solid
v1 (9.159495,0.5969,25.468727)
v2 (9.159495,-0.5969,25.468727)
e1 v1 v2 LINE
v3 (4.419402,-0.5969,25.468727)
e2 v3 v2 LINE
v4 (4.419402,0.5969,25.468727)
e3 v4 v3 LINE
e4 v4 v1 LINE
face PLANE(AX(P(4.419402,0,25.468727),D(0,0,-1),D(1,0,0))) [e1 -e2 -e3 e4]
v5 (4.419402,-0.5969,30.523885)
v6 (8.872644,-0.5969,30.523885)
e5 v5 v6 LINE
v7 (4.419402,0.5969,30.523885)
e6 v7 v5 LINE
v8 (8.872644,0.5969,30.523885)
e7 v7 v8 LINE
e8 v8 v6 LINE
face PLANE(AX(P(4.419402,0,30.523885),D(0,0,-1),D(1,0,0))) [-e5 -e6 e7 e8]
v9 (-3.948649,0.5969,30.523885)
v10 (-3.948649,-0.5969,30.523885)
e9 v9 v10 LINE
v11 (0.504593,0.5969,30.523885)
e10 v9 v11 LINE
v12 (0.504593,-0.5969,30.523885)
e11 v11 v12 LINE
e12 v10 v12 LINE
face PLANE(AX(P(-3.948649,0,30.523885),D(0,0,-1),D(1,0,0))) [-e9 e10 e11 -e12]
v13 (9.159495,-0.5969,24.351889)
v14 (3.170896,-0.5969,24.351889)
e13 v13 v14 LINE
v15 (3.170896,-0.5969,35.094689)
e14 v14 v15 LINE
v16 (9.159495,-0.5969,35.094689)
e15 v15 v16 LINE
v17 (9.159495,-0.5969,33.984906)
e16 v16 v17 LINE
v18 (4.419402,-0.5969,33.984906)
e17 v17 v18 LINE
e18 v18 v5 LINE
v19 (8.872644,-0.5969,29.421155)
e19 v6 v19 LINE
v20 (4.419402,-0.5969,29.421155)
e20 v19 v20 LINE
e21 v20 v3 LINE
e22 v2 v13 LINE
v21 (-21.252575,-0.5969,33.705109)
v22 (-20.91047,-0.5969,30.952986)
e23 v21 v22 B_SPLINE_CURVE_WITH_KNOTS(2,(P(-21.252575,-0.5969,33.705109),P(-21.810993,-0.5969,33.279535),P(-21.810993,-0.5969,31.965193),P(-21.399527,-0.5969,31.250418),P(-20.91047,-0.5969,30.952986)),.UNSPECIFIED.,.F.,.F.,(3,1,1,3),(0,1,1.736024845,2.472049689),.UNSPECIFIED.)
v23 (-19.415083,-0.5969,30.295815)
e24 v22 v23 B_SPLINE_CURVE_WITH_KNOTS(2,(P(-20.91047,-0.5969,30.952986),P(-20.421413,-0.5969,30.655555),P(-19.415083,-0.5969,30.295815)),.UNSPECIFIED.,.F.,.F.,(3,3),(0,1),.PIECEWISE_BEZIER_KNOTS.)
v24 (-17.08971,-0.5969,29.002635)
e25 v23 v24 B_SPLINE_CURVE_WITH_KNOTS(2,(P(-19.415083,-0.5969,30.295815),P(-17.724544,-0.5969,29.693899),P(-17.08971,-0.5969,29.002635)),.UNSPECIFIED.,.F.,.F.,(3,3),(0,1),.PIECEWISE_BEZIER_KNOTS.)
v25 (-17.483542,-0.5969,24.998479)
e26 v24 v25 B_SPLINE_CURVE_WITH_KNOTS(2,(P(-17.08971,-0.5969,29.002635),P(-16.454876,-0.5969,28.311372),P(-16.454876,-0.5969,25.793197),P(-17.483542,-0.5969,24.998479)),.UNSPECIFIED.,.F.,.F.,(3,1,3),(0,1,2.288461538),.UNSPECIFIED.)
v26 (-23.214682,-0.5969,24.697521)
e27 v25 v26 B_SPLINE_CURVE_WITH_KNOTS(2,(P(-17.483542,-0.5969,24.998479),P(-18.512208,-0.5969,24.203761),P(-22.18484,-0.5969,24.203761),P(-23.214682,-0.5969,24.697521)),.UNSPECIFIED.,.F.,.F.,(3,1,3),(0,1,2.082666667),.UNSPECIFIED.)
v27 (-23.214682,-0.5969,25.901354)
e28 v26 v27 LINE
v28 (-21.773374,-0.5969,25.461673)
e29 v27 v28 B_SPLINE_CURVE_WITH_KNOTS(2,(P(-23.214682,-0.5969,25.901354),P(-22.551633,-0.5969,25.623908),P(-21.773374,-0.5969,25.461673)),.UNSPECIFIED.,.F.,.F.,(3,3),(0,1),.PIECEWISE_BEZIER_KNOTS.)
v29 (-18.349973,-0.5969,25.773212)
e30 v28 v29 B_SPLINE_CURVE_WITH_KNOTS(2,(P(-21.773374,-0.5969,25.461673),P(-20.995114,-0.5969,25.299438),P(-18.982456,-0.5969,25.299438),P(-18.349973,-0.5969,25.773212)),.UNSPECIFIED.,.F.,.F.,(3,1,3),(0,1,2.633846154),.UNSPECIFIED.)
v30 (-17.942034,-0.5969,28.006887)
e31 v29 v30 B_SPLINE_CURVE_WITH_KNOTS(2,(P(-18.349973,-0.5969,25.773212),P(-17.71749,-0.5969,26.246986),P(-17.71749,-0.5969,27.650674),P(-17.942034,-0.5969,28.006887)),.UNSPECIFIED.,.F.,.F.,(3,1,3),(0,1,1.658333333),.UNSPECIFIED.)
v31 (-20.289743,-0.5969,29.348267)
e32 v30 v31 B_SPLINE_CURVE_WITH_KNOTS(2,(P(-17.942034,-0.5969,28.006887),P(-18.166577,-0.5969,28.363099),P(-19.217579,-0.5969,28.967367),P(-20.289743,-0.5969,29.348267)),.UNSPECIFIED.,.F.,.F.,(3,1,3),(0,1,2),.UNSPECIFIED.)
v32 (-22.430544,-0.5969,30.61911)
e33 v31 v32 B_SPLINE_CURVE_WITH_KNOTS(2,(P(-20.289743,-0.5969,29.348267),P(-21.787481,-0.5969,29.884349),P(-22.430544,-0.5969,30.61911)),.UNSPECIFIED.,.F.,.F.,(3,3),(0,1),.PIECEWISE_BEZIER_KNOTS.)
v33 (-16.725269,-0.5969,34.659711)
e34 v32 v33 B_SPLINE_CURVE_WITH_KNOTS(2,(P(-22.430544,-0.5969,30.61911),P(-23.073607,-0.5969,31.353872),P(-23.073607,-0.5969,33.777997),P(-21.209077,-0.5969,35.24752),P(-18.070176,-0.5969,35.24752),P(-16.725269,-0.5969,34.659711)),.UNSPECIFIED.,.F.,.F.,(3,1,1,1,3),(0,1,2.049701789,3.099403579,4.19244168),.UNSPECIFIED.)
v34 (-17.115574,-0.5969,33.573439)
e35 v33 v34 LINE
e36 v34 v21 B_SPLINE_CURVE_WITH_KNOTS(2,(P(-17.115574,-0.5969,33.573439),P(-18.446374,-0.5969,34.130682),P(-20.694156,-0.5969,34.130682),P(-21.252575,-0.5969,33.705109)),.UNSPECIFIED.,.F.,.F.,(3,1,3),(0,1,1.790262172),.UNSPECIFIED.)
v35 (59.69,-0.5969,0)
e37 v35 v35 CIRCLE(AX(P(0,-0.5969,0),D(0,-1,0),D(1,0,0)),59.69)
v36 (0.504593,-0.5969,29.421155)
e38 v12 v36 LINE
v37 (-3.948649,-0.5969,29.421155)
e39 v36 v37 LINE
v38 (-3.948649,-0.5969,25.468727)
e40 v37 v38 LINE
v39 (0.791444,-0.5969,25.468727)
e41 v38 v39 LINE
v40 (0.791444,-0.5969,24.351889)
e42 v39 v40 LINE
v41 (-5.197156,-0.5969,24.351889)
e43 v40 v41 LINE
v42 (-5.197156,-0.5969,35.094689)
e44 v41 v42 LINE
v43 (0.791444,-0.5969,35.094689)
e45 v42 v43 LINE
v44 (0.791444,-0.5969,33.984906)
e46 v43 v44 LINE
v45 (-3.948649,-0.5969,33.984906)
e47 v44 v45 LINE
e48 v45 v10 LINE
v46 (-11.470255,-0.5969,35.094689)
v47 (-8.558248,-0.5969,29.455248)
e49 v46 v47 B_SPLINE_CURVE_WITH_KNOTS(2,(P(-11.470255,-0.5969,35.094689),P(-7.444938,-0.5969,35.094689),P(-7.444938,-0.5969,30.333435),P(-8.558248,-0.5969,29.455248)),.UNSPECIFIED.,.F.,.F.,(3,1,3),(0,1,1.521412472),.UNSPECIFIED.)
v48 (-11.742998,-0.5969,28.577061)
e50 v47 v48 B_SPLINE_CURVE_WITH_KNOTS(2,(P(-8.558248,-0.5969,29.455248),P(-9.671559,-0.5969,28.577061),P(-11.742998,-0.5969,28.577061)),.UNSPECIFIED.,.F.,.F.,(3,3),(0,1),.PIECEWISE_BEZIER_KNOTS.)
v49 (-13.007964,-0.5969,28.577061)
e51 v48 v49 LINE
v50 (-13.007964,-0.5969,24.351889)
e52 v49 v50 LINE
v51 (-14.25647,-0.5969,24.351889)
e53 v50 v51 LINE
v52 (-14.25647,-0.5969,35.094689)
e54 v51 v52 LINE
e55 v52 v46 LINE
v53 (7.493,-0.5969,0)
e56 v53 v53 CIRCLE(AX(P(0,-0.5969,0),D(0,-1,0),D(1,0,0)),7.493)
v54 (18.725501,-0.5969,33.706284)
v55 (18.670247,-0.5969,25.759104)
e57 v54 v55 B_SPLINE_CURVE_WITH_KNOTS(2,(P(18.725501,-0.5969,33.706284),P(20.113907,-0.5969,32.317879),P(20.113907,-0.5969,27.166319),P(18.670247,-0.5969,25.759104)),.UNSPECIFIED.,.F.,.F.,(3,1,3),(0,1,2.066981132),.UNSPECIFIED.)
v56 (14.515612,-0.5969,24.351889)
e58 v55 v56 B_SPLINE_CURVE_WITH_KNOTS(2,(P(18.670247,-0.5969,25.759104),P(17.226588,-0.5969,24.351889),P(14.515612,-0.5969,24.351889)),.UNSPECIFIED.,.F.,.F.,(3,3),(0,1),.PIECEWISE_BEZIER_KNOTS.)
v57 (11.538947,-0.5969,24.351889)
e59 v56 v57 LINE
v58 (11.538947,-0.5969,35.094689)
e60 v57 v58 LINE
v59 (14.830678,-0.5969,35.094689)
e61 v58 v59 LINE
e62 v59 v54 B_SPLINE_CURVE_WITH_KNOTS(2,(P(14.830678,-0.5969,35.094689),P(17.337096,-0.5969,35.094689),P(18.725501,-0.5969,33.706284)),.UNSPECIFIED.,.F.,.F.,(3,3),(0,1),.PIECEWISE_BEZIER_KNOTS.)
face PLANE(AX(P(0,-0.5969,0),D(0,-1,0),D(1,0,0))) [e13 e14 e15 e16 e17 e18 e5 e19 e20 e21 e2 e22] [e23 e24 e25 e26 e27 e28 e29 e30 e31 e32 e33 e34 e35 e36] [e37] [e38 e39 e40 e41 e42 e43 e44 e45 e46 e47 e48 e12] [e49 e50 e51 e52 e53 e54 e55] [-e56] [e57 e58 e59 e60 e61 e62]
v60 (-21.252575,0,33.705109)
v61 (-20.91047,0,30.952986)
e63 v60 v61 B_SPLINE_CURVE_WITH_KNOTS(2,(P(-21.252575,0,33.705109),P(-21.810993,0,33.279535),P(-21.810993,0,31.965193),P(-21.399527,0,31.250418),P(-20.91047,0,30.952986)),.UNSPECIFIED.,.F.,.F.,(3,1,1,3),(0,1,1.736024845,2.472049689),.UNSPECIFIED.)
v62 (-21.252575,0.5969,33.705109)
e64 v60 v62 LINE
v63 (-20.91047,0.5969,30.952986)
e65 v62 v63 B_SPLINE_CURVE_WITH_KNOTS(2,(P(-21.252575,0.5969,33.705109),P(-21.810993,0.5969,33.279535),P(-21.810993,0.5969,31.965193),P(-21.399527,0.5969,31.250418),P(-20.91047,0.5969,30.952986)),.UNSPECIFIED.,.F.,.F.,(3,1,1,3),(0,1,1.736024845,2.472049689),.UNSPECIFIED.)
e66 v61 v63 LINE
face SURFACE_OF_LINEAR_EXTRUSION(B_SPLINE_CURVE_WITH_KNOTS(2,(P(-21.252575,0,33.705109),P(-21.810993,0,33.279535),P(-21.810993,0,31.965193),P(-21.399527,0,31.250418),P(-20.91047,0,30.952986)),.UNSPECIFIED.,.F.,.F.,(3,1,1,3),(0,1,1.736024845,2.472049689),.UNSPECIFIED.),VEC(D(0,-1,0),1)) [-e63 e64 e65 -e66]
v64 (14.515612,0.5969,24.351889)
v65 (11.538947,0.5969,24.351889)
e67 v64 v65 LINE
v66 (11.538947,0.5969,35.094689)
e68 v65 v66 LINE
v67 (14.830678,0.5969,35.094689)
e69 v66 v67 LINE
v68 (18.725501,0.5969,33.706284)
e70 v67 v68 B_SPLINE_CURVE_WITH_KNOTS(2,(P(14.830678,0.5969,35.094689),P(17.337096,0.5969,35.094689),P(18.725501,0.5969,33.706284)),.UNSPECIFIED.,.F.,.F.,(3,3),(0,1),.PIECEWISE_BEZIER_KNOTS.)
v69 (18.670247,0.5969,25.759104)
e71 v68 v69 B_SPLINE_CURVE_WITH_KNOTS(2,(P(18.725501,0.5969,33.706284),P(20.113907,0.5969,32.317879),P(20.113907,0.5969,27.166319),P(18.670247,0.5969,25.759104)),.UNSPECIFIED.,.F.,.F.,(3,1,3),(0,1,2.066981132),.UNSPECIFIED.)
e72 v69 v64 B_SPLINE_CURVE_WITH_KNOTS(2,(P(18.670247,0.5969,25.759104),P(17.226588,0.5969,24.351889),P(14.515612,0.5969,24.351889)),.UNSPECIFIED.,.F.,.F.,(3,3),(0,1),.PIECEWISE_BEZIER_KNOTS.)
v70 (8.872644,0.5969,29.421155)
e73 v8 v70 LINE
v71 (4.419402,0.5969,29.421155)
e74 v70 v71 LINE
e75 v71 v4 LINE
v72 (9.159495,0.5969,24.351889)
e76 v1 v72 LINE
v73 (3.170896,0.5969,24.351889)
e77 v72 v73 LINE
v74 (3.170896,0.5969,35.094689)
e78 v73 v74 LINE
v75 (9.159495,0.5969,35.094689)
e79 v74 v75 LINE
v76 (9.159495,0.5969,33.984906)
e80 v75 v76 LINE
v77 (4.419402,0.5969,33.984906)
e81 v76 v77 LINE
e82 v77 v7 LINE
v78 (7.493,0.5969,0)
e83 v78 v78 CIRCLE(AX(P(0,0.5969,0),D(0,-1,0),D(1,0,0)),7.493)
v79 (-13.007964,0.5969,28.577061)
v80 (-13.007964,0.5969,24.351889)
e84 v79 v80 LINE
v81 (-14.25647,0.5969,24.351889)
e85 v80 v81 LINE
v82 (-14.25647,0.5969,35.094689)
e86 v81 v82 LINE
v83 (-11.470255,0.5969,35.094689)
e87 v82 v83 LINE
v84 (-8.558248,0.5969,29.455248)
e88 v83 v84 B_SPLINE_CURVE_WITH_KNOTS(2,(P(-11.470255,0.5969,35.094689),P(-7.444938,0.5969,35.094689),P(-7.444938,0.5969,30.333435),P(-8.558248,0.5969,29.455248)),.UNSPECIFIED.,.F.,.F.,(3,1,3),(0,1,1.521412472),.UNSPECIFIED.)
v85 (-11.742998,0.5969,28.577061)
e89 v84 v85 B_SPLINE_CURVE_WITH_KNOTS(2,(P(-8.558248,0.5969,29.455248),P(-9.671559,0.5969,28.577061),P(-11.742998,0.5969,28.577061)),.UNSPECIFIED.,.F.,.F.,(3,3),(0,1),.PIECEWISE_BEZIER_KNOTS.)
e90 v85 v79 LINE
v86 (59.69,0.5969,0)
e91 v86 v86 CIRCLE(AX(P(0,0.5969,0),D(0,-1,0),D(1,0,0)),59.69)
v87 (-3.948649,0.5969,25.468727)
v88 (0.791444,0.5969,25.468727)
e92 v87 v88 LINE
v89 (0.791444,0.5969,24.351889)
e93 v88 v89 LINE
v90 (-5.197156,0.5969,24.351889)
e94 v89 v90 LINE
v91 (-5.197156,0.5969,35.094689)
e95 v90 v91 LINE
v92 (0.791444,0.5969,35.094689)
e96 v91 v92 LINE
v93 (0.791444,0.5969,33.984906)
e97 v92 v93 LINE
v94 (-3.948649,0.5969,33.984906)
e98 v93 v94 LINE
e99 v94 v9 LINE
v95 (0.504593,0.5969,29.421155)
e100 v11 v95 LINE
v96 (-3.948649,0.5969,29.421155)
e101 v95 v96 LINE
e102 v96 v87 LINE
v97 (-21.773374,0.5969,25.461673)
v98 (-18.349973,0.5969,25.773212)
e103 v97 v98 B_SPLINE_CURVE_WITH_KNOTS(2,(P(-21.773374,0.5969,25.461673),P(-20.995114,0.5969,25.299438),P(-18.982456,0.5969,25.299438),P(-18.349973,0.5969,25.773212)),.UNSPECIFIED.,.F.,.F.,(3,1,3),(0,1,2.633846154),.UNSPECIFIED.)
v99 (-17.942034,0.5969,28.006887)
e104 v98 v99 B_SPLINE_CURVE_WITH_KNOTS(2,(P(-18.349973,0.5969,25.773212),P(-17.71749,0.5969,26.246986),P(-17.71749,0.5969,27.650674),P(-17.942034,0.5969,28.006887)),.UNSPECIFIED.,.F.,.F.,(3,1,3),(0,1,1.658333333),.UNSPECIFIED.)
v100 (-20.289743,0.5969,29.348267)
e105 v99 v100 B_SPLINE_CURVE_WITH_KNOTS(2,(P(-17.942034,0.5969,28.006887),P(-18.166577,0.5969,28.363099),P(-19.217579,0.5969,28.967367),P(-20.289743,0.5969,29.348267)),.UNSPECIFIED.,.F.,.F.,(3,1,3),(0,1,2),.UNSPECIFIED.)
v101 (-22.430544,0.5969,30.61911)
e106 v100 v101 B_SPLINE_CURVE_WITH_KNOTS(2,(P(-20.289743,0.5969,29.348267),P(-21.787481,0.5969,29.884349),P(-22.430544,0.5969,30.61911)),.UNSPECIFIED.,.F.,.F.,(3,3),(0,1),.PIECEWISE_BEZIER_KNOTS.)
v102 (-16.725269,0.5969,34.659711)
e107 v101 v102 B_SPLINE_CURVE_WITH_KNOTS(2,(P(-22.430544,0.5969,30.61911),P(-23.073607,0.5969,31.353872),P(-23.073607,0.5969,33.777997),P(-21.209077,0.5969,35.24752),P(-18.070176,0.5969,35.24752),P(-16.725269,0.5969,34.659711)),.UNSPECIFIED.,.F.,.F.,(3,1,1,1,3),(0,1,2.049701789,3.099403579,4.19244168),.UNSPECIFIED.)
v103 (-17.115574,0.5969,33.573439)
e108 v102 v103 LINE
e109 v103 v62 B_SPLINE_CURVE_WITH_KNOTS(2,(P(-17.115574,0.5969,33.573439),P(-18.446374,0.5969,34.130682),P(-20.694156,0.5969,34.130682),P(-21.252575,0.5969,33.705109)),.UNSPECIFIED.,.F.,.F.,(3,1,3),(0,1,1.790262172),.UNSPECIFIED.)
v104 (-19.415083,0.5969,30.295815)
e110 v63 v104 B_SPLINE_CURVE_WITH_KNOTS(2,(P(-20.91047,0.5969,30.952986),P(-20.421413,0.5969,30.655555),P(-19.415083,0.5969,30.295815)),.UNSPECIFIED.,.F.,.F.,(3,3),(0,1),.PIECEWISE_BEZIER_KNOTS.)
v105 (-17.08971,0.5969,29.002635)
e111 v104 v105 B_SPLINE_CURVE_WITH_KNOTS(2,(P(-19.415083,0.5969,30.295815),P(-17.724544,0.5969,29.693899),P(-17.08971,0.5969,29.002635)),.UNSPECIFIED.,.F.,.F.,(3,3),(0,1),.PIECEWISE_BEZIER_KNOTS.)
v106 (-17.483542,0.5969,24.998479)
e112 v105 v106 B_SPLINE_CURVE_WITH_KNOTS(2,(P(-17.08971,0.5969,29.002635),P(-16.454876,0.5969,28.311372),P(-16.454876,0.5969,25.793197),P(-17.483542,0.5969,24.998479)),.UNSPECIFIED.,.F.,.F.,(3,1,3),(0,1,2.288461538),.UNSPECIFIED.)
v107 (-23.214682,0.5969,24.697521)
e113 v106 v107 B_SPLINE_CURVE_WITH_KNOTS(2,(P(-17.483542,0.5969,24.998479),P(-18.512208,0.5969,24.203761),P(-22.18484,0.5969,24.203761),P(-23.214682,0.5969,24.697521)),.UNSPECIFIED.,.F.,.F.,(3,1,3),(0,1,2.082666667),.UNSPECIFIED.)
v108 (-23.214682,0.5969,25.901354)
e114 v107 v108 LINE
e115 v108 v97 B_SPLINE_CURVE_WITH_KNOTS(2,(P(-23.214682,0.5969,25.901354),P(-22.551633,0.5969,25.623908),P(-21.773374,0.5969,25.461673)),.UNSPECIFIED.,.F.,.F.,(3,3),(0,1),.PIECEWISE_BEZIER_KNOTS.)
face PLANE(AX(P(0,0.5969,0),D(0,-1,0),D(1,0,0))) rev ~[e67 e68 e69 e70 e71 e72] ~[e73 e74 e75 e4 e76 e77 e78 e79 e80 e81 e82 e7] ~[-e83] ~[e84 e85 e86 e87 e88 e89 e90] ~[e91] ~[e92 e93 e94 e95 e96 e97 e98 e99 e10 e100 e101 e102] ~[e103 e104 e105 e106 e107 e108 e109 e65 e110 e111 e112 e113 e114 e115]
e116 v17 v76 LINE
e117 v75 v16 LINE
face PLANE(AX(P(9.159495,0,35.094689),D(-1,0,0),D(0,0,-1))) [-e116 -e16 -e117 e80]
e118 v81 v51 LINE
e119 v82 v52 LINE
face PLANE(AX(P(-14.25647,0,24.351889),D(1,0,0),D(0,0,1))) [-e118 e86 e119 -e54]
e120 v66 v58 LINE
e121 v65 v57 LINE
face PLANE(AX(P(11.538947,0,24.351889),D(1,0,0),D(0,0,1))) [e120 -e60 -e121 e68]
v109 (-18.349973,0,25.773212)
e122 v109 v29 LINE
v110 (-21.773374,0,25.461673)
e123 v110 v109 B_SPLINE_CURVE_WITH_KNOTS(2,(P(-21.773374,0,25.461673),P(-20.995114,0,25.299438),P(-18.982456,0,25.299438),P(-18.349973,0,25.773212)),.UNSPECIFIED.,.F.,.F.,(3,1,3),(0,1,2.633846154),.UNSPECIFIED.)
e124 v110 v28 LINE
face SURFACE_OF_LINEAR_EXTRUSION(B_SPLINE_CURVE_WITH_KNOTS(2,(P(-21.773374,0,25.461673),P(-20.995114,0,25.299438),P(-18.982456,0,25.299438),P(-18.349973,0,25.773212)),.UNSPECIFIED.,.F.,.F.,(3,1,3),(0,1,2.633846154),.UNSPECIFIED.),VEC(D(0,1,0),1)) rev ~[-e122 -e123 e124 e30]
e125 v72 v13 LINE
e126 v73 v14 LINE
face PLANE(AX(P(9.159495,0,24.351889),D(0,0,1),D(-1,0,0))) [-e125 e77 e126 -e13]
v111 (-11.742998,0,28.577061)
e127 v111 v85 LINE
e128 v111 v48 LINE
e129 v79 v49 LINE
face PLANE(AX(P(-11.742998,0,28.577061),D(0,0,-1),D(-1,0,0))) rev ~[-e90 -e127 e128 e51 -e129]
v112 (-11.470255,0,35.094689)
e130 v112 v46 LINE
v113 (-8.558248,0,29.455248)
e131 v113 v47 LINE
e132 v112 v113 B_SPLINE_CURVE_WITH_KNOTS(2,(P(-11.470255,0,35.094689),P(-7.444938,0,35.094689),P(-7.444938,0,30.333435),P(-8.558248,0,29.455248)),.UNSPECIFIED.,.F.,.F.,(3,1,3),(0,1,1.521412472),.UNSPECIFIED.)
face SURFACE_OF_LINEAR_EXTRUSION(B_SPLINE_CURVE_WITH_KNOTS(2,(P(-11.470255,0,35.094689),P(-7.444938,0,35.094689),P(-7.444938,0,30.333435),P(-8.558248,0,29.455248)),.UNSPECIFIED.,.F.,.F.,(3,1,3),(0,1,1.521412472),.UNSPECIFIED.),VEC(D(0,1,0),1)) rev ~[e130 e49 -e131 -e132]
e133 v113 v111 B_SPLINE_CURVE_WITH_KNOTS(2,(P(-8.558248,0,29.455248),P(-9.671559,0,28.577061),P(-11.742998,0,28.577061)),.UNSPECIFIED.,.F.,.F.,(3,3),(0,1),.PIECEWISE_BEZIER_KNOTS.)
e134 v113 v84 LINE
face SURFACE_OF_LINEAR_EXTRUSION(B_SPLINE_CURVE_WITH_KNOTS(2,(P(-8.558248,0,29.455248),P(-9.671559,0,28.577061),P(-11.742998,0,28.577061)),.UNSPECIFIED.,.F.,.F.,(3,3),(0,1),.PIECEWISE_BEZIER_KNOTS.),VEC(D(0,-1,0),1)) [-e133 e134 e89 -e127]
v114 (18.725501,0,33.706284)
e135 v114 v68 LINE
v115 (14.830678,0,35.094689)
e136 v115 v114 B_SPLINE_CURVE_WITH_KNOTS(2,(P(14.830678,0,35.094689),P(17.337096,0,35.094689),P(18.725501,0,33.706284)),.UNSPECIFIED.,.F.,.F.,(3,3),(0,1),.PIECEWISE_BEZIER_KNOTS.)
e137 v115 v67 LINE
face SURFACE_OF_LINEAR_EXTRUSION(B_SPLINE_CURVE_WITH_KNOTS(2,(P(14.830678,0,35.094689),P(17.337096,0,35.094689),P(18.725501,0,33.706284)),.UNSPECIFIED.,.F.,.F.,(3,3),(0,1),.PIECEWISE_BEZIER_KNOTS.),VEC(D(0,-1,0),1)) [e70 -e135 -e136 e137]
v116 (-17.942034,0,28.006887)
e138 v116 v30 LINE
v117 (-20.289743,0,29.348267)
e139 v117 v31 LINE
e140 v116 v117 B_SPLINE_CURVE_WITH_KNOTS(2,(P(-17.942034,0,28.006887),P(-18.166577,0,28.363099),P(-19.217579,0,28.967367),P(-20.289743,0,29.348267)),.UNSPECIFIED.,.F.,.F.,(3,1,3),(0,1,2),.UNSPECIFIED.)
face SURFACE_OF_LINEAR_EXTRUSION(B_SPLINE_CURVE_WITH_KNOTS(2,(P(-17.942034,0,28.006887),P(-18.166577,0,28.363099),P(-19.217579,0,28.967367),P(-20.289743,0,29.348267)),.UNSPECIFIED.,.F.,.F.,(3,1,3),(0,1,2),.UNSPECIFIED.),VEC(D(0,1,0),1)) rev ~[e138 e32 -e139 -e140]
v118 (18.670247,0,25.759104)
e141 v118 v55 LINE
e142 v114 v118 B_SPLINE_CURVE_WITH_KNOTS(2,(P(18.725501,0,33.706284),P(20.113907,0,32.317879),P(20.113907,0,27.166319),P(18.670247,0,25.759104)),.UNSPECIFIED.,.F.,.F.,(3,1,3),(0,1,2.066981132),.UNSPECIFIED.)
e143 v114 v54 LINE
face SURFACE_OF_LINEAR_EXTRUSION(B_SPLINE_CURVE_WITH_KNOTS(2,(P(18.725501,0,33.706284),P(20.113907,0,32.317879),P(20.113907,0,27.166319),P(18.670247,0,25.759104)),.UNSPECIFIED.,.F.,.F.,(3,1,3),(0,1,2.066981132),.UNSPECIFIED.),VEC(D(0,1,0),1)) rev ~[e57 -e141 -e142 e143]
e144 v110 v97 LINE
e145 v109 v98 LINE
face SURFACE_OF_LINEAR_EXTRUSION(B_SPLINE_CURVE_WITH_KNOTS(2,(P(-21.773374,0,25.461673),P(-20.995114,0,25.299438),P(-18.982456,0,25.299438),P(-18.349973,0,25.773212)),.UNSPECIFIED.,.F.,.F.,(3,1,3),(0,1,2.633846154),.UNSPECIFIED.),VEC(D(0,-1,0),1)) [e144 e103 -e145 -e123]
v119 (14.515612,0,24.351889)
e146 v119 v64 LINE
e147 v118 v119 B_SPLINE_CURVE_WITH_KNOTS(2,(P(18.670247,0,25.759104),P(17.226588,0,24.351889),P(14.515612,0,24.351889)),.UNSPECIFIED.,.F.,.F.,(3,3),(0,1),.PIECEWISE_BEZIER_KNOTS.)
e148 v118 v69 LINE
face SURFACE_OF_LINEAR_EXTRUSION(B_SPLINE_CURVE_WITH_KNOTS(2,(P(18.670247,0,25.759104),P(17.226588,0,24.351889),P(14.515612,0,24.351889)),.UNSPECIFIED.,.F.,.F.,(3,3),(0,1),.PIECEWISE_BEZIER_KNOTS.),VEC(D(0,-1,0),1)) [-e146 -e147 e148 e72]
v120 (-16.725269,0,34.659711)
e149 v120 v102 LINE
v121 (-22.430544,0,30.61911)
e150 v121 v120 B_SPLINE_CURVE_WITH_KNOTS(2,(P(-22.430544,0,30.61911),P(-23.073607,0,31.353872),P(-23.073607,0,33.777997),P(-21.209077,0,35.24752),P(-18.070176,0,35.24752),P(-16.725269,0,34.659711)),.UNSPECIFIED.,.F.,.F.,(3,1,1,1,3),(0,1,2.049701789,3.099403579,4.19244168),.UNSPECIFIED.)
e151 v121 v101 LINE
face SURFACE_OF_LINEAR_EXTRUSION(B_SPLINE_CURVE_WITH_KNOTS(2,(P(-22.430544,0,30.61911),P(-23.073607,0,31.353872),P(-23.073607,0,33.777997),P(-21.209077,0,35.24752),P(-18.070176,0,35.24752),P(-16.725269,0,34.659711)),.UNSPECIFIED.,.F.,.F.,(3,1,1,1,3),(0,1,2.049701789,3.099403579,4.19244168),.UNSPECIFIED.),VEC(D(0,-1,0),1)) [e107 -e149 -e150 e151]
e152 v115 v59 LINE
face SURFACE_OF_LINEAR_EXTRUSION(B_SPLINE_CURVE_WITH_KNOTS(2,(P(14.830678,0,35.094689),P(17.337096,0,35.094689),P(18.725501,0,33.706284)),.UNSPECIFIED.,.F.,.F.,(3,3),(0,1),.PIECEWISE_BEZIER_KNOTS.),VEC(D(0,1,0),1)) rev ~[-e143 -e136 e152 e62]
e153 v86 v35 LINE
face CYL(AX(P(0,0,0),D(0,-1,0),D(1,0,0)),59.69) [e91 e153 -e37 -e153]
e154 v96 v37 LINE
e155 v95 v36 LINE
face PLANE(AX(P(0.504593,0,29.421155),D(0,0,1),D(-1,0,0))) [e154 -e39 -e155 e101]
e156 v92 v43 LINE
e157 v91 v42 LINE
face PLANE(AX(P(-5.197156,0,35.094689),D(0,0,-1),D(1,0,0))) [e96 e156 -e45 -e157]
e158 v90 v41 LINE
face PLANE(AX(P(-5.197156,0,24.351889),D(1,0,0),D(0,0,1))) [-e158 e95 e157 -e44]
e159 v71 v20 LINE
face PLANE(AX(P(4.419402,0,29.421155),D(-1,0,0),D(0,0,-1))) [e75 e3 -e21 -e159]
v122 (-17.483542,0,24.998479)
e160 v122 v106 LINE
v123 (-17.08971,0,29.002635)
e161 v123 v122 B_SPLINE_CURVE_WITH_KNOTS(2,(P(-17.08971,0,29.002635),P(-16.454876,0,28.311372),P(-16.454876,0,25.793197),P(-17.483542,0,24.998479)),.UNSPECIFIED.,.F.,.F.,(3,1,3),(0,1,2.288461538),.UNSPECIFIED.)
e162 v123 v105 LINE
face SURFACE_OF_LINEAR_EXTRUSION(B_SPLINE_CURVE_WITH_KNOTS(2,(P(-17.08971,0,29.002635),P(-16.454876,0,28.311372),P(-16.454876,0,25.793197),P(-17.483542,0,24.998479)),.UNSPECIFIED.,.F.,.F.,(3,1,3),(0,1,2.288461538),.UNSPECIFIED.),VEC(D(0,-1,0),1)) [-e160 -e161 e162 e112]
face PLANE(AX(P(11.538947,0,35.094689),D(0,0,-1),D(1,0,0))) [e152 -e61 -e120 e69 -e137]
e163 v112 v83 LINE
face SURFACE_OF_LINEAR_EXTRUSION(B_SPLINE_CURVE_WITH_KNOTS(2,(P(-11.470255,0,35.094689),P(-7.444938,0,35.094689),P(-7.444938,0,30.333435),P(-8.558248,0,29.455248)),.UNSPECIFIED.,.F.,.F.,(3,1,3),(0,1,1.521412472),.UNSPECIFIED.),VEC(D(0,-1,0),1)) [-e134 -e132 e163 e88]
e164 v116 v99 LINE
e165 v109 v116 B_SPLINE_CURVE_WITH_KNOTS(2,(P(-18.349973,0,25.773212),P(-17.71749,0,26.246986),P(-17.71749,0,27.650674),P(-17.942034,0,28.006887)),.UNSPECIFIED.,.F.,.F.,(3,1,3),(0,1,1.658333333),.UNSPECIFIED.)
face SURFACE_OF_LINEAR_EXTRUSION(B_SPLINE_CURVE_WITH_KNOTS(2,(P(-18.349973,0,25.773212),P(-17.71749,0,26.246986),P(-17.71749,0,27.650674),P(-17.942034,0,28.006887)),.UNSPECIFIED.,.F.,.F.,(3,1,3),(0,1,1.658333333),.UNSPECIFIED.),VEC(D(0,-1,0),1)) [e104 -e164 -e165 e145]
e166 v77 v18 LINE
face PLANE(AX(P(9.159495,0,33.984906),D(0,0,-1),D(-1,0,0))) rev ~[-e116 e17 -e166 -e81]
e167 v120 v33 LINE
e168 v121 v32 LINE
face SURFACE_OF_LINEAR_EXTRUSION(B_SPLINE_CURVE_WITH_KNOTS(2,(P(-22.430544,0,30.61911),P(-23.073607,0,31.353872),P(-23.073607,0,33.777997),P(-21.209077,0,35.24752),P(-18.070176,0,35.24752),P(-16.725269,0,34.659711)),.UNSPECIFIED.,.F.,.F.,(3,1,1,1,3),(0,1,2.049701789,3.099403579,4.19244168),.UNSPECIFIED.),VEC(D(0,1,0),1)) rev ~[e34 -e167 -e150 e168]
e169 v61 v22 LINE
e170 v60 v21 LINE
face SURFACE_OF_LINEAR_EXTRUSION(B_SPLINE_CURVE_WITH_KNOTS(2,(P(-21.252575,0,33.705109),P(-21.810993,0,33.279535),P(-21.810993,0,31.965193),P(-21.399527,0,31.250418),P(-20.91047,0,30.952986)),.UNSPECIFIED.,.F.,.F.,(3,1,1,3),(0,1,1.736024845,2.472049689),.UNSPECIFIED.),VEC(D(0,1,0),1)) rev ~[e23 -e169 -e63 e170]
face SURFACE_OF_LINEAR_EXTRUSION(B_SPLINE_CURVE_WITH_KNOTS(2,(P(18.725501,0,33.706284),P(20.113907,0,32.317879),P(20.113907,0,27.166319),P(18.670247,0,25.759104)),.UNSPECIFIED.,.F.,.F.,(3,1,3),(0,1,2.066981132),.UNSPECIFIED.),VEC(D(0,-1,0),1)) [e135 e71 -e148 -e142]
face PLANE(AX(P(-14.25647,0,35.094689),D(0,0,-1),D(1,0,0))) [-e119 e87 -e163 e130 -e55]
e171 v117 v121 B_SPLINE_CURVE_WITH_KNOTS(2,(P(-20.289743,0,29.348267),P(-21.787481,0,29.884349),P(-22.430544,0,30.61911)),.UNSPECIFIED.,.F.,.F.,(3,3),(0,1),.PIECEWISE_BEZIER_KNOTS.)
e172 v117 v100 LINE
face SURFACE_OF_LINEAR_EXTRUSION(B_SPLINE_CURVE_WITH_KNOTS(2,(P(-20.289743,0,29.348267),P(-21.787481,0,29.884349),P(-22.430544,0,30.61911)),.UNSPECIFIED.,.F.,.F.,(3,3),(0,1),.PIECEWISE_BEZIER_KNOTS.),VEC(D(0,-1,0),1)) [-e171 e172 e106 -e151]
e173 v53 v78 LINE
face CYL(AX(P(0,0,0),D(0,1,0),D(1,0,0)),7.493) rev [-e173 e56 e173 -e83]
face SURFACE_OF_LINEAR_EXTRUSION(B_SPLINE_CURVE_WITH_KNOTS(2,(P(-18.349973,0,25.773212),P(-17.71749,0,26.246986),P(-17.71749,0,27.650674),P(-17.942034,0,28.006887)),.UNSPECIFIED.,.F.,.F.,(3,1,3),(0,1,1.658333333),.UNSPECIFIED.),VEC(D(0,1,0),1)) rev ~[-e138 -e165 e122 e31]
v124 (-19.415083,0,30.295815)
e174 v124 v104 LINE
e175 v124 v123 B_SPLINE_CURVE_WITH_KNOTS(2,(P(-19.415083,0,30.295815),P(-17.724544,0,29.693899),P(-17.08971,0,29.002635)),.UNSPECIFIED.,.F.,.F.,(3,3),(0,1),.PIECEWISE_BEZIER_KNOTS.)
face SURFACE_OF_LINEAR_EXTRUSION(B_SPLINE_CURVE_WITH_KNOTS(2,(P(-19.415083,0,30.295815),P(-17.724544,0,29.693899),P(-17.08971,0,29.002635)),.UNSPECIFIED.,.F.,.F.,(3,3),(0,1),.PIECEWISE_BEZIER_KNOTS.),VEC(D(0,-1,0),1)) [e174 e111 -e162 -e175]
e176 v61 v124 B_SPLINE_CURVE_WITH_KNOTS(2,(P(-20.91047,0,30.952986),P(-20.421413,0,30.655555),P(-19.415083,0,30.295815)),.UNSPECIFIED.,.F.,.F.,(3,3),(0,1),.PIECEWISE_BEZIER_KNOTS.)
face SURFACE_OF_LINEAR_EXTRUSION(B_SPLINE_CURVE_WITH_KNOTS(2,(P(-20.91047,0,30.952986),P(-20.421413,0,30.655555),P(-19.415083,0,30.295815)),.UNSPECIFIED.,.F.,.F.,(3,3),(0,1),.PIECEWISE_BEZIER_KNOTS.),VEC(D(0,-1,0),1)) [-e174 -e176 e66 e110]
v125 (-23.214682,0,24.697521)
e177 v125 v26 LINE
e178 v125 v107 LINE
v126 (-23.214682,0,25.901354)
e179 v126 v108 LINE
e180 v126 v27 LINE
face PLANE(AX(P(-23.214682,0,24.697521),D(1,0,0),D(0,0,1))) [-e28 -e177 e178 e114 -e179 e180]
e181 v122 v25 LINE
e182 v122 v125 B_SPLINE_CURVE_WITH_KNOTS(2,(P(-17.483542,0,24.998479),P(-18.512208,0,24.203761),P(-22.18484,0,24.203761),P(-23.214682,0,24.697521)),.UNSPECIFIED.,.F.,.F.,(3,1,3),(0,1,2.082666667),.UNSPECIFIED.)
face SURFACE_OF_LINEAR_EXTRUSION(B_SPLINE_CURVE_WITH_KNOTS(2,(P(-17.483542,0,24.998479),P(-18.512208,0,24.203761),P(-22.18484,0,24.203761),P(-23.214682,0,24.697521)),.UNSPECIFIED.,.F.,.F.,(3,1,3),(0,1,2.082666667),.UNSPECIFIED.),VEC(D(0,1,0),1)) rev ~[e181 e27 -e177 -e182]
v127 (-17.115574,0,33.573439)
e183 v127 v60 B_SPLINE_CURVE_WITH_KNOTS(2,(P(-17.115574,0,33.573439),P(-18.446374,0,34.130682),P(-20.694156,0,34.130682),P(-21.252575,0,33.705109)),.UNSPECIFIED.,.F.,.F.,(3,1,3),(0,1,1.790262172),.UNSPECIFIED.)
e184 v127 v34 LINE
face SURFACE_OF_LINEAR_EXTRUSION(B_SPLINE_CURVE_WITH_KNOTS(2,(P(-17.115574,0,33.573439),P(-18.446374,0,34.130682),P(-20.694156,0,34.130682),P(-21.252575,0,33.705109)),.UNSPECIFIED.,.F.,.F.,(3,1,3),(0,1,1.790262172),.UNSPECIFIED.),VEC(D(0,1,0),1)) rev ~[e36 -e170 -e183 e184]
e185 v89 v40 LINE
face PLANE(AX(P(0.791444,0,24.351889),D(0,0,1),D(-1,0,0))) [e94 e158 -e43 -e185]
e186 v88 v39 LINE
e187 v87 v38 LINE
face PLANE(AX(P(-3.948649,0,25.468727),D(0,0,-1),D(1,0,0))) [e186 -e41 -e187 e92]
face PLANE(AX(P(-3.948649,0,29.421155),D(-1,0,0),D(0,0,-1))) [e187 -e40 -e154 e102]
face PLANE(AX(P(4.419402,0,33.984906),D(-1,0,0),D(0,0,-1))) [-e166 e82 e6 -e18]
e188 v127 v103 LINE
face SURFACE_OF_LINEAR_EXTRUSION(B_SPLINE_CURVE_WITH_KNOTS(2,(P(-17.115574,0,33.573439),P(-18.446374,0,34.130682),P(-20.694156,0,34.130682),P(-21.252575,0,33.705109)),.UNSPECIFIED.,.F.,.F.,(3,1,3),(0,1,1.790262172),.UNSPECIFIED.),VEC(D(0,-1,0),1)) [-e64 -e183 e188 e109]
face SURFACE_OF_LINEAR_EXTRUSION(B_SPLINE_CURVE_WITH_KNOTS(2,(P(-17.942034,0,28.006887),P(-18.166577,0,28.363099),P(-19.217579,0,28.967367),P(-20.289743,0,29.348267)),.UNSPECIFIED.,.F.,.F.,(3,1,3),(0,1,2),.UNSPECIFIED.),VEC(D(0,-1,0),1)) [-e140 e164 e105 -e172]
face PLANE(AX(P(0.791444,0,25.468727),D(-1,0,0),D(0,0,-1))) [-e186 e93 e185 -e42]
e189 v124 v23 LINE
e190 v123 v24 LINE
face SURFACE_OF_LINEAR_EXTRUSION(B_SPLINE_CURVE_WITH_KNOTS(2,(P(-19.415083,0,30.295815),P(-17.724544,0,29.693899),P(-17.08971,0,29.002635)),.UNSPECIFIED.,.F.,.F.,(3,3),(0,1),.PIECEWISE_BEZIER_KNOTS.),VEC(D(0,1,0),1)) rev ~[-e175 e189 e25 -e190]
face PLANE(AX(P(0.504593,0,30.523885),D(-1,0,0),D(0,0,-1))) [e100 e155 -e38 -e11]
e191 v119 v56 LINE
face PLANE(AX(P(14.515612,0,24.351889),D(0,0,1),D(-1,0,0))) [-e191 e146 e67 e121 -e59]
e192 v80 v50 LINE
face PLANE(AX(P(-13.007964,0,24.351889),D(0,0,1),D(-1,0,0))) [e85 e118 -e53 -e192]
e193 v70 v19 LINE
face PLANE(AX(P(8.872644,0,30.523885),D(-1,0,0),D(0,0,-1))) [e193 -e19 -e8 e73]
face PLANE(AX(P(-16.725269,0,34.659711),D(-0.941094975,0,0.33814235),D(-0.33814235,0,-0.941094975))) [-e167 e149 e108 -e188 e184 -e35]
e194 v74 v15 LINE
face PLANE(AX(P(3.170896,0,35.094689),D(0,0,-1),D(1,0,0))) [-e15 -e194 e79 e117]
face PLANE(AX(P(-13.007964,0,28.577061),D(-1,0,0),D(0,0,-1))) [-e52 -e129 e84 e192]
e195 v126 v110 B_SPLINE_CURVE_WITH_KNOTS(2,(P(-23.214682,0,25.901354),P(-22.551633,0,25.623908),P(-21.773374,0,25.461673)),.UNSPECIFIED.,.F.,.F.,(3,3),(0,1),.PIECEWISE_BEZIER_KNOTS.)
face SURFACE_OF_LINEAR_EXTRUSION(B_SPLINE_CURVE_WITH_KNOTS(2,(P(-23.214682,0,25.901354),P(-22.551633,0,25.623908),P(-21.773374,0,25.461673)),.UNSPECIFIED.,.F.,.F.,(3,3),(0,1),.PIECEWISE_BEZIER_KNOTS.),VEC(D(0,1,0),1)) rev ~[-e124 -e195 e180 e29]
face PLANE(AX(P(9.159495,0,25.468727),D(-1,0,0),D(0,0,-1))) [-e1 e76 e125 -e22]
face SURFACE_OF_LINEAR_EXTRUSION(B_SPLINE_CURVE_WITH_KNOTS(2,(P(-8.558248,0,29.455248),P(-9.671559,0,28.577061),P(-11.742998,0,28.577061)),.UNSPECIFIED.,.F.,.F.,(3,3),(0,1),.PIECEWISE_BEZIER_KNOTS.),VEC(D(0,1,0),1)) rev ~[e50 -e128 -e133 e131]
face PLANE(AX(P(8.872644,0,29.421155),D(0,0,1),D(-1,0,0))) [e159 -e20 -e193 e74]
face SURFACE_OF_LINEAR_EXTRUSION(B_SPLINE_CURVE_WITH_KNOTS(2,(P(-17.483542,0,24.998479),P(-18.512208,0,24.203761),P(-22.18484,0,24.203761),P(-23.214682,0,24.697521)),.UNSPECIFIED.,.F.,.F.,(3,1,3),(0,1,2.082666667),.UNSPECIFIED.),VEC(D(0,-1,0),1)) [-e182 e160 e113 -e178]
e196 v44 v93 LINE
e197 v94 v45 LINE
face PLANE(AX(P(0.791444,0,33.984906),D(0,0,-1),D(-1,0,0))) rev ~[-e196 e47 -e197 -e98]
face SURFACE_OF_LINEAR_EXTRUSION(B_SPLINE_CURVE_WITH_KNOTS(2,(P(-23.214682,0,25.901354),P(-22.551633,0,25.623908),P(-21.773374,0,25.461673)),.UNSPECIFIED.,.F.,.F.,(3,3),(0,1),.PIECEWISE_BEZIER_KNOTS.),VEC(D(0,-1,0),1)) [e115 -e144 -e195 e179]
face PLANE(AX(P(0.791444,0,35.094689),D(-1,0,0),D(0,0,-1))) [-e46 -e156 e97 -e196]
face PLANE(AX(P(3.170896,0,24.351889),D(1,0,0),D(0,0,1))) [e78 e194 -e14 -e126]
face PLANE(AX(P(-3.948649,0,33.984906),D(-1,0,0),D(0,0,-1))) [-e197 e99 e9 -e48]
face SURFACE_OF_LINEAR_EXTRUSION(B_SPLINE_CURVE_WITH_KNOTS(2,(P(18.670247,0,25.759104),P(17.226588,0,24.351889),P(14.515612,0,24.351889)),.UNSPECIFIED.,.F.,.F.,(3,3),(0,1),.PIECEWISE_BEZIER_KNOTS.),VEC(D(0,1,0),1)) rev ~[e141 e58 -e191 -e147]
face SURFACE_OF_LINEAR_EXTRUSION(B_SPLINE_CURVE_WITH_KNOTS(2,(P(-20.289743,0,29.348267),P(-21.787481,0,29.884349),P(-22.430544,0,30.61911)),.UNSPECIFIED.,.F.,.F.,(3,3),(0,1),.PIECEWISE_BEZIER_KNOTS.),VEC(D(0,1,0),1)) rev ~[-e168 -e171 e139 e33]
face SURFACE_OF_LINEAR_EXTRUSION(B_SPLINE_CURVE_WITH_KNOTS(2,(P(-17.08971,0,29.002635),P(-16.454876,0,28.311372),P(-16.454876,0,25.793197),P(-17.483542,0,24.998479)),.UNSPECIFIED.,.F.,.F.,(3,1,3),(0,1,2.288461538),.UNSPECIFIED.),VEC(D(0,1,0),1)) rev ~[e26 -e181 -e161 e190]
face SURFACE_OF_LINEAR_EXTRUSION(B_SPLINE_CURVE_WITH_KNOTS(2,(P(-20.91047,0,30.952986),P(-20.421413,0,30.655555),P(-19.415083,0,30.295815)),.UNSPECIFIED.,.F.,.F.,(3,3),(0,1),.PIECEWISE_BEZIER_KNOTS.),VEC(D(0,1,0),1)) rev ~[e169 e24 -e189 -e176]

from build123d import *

# Parameters (mm, degrees)
F0_R     = 59.69
F0_R_2   = 7.493
F1_DEPTH = 0.5969


with BuildPart() as f1:
    # F0 (on Front) → F1 (new body, symmetric)
    with BuildSketch(Plane.XZ):
        Circle(F0_R)
        with BuildLine():
            add(Edge.make_bspline(
                [(-17.0897103089, 29.0026352959), (-16.4548764224, 28.3113717305), (-16.4548764224, 27.2109929938)],
                knots=[0, 0, 0, 1, 1, 1], degree=2))
            add(Edge.make_bspline(
                [(-16.4548764224, 27.2109929938), (-16.4548764224, 25.7931973138), (-17.4835424423, 24.9984793372)],
                knots=[0, 0, 0, 1, 1, 1], degree=2))
            add(Edge.make_bspline(
                [(-17.4835424423, 24.9984793372), (-18.5122084622, 24.2037613607), (-20.2756359249, 24.2037613607)],
                knots=[0, 0, 0, 1, 1, 1], degree=2))
            add(Edge.make_bspline(
                [(-20.2756359249, 24.2037613607), (-22.1848400579, 24.2037613607), (-23.2146816961, 24.6975210503)],
                knots=[0, 0, 0, 1, 1, 1], degree=2))
            Line((-23.2146816961, 24.6975210503), (-23.2146816961, 25.9013541981))
            add(Edge.make_bspline(
                [(-23.2146816961, 25.9013541981), (-22.5516329701, 25.6239082773), (-21.7733736499, 25.4616729508)],
                knots=[0, 0, 0, 1, 1, 1], degree=2))
            add(Edge.make_bspline(
                [(-21.7733736499, 25.4616729508), (-20.9951143297, 25.2994376242), (-20.2309624292, 25.2994376242)],
                knots=[0, 0, 0, 1, 1, 1], degree=2))
            add(Edge.make_bspline(
                [(-20.2309624292, 25.2994376242), (-18.9824557856, 25.2994376242), (-18.3499731356, 25.7732118025)],
                knots=[0, 0, 0, 1, 1, 1], degree=2))
            add(Edge.make_bspline(
                [(-18.3499731356, 25.7732118025), (-17.7174904857, 26.2469859808), (-17.7174904857, 27.0934311629)],
                knots=[0, 0, 0, 1, 1, 1], degree=2))
            add(Edge.make_bspline(
                [(-17.7174904857, 27.0934311629), (-17.7174904857, 27.6506742412), (-17.9420335826, 28.0068865886)],
                knots=[0, 0, 0, 1, 1, 1], degree=2))
            add(Edge.make_bspline(
                [(-17.9420335826, 28.0068865886), (-18.1665766795, 28.3630989361), (-18.6920780634, 28.6652328414)],
                knots=[0, 0, 0, 1, 1, 1], degree=2))
            add(Edge.make_bspline(
                [(-18.6920780634, 28.6652328414), (-19.2175794473, 28.9673667467), (-20.2897433446, 29.3482670786)],
                knots=[0, 0, 0, 1, 1, 1], degree=2))
            add(Edge.make_bspline(
                [(-20.2897433446, 29.3482670786), (-21.7874810696, 29.8843490273), (-22.4305442844, 30.6191104701)],
                knots=[0, 0, 0, 1, 1, 1], degree=2))
            add(Edge.make_bspline(
                [(-22.4305442844, 30.6191104701), (-23.0736074991, 31.3538719129), (-23.0736074991, 32.5365439312)],
                knots=[0, 0, 0, 1, 1, 1], degree=2))
            add(Edge.make_bspline(
                [(-23.0736074991, 32.5365439312), (-23.0736074991, 33.777996865), (-22.1413421805, 34.5127583078)],
                knots=[0, 0, 0, 1, 1, 1], degree=2))
            add(Edge.make_bspline(
                [(-22.1413421805, 34.5127583078), (-21.2090768619, 35.2475197506), (-19.6713681144, 35.2475197506)],
                knots=[0, 0, 0, 1, 1, 1], degree=2))
            add(Edge.make_bspline(
                [(-19.6713681144, 35.2475197506), (-18.0701759782, 35.2475197506), (-16.7252686333, 34.6597105963)],
                knots=[0, 0, 0, 1, 1, 1], degree=2))
            Line((-16.7252686333, 34.6597105963), (-17.1155739117, 33.5734392793))
            add(Edge.make_bspline(
                [(-17.1155739117, 33.5734392793), (-18.4463738369, 34.1306823575), (-19.7019341904, 34.1306823575)],
                knots=[0, 0, 0, 1, 1, 1], degree=2))
            add(Edge.make_bspline(
                [(-19.7019341904, 34.1306823575), (-20.6941560427, 34.1306823575), (-21.2525747393, 33.7051085298)],
                knots=[0, 0, 0, 1, 1, 1], degree=2))
            add(Edge.make_bspline(
                [(-21.2525747393, 33.7051085298), (-21.8109934358, 33.2795347022), (-21.8109934358, 32.5224365115)],
                knots=[0, 0, 0, 1, 1, 1], degree=2))
            add(Edge.make_bspline(
                [(-21.8109934358, 32.5224365115), (-21.8109934358, 31.9651934333), (-21.6052602318, 31.6078054675)],
                knots=[0, 0, 0, 1, 1, 1], degree=2))
            add(Edge.make_bspline(
                [(-21.6052602318, 31.6078054675), (-21.3995270278, 31.2504175017), (-20.9104698115, 30.9529860697)],
                knots=[0, 0, 0, 1, 1, 1], degree=2))
            add(Edge.make_bspline(
                [(-20.9104698115, 30.9529860697), (-20.4214125952, 30.6555546376), (-19.4150833231, 30.2958154352)],
                knots=[0, 0, 0, 1, 1, 1], degree=2))
            add(Edge.make_bspline(
                [(-19.4150833231, 30.2958154352), (-17.7245441955, 29.6938988613), (-17.0897103089, 29.0026352959)],
                knots=[0, 0, 0, 1, 1, 1], degree=2))
        make_face(mode=Mode.SUBTRACT)
        with BuildLine():
            add(Edge.make_bspline(
                [(-11.4702547944, 35.0946893705), (-7.4449377062, 35.0946893705), (-7.4449377062, 31.9651934333)],
                knots=[0, 0, 0, 1, 1, 1], degree=2))
            add(Edge.make_bspline(
                [(-7.4449377062, 31.9651934333), (-7.4449377062, 30.3334352211), (-8.5582482443, 29.4552483447)],
                knots=[0, 0, 0, 1, 1, 1], degree=2))
            add(Edge.make_bspline(
                [(-8.5582482443, 29.4552483447), (-9.6715587824, 28.5770614682), (-11.742998242, 28.5770614682)],
                knots=[0, 0, 0, 1, 1, 1], degree=2))
            Line((-11.742998242, 28.5770614682), (-13.0079635419, 28.5770614682))
            Line((-13.0079635419, 28.5770614682), (-13.0079635419, 24.3518892676))
            Line((-13.0079635419, 24.3518892676), (-14.2564701855, 24.3518892676))
            Line((-14.2564701855, 24.3518892676), (-14.2564701855, 35.0946893705))
            Line((-14.2564701855, 35.0946893705), (-11.4702547944, 35.0946893705))
        make_face(mode=Mode.SUBTRACT)
        Polygon((0.791444163, 25.4687266606), (0.791444163, 24.3518892676), (-5.1971555004, 24.3518892676), (-5.1971555004, 35.0946893705), (0.791444163, 35.0946893705), (0.791444163, 33.9849056872), (-3.9486488567, 33.9849056872), (-3.9486488567, 30.5238853871), (0.5045932958, 30.5238853871), (0.5045932958, 29.4211554137), (-3.9486488567, 29.4211554137), (-3.9486488567, 25.4687266606), align=None, mode=Mode.SUBTRACT)
        Circle(F0_R_2, mode=Mode.SUBTRACT)
        Polygon((9.1594952828, 25.4687266606), (9.1594952828, 24.3518892676), (3.1708956194, 24.3518892676), (3.1708956194, 35.0946893705), (9.1594952828, 35.0946893705), (9.1594952828, 33.9849056872), (4.419402263, 33.9849056872), (4.419402263, 30.5238853871), (8.8726444155, 30.5238853871), (8.8726444155, 29.4211554137), (4.419402263, 29.4211554137), (4.419402263, 25.4687266606), align=None, mode=Mode.SUBTRACT)
        with BuildLine():
            add(Edge.make_bspline(
                [(18.7255014589, 33.7062841481), (20.1139066812, 32.3178789258), (20.1139066812, 29.8255681118)],
                knots=[0, 0, 0, 1, 1, 1], degree=2))
            add(Edge.make_bspline(
                [(20.1139066812, 29.8255681118), (20.1139066812, 27.1663194981), (18.6702473984, 25.7591043828)],
                knots=[0, 0, 0, 1, 1, 1], degree=2))
            add(Edge.make_bspline(
                [(18.6702473984, 25.7591043828), (17.2265881156, 24.3518892676), (14.5156122962, 24.3518892676)],
                knots=[0, 0, 0, 1, 1, 1], degree=2))
            Line((14.5156122962, 24.3518892676), (11.5389467392, 24.3518892676))
            Line((11.5389467392, 24.3518892676), (11.5389467392, 35.0946893705))
            Line((11.5389467392, 35.0946893705), (14.8306780029, 35.0946893705))
            add(Edge.make_bspline(
                [(14.8306780029, 35.0946893705), (17.3370962366, 35.0946893705), (18.7255014589, 33.7062841481)],
                knots=[0, 0, 0, 1, 1, 1], degree=2))
        make_face(mode=Mode.SUBTRACT)
    extrude(amount=F1_DEPTH, both=True)


solid = f1.part
